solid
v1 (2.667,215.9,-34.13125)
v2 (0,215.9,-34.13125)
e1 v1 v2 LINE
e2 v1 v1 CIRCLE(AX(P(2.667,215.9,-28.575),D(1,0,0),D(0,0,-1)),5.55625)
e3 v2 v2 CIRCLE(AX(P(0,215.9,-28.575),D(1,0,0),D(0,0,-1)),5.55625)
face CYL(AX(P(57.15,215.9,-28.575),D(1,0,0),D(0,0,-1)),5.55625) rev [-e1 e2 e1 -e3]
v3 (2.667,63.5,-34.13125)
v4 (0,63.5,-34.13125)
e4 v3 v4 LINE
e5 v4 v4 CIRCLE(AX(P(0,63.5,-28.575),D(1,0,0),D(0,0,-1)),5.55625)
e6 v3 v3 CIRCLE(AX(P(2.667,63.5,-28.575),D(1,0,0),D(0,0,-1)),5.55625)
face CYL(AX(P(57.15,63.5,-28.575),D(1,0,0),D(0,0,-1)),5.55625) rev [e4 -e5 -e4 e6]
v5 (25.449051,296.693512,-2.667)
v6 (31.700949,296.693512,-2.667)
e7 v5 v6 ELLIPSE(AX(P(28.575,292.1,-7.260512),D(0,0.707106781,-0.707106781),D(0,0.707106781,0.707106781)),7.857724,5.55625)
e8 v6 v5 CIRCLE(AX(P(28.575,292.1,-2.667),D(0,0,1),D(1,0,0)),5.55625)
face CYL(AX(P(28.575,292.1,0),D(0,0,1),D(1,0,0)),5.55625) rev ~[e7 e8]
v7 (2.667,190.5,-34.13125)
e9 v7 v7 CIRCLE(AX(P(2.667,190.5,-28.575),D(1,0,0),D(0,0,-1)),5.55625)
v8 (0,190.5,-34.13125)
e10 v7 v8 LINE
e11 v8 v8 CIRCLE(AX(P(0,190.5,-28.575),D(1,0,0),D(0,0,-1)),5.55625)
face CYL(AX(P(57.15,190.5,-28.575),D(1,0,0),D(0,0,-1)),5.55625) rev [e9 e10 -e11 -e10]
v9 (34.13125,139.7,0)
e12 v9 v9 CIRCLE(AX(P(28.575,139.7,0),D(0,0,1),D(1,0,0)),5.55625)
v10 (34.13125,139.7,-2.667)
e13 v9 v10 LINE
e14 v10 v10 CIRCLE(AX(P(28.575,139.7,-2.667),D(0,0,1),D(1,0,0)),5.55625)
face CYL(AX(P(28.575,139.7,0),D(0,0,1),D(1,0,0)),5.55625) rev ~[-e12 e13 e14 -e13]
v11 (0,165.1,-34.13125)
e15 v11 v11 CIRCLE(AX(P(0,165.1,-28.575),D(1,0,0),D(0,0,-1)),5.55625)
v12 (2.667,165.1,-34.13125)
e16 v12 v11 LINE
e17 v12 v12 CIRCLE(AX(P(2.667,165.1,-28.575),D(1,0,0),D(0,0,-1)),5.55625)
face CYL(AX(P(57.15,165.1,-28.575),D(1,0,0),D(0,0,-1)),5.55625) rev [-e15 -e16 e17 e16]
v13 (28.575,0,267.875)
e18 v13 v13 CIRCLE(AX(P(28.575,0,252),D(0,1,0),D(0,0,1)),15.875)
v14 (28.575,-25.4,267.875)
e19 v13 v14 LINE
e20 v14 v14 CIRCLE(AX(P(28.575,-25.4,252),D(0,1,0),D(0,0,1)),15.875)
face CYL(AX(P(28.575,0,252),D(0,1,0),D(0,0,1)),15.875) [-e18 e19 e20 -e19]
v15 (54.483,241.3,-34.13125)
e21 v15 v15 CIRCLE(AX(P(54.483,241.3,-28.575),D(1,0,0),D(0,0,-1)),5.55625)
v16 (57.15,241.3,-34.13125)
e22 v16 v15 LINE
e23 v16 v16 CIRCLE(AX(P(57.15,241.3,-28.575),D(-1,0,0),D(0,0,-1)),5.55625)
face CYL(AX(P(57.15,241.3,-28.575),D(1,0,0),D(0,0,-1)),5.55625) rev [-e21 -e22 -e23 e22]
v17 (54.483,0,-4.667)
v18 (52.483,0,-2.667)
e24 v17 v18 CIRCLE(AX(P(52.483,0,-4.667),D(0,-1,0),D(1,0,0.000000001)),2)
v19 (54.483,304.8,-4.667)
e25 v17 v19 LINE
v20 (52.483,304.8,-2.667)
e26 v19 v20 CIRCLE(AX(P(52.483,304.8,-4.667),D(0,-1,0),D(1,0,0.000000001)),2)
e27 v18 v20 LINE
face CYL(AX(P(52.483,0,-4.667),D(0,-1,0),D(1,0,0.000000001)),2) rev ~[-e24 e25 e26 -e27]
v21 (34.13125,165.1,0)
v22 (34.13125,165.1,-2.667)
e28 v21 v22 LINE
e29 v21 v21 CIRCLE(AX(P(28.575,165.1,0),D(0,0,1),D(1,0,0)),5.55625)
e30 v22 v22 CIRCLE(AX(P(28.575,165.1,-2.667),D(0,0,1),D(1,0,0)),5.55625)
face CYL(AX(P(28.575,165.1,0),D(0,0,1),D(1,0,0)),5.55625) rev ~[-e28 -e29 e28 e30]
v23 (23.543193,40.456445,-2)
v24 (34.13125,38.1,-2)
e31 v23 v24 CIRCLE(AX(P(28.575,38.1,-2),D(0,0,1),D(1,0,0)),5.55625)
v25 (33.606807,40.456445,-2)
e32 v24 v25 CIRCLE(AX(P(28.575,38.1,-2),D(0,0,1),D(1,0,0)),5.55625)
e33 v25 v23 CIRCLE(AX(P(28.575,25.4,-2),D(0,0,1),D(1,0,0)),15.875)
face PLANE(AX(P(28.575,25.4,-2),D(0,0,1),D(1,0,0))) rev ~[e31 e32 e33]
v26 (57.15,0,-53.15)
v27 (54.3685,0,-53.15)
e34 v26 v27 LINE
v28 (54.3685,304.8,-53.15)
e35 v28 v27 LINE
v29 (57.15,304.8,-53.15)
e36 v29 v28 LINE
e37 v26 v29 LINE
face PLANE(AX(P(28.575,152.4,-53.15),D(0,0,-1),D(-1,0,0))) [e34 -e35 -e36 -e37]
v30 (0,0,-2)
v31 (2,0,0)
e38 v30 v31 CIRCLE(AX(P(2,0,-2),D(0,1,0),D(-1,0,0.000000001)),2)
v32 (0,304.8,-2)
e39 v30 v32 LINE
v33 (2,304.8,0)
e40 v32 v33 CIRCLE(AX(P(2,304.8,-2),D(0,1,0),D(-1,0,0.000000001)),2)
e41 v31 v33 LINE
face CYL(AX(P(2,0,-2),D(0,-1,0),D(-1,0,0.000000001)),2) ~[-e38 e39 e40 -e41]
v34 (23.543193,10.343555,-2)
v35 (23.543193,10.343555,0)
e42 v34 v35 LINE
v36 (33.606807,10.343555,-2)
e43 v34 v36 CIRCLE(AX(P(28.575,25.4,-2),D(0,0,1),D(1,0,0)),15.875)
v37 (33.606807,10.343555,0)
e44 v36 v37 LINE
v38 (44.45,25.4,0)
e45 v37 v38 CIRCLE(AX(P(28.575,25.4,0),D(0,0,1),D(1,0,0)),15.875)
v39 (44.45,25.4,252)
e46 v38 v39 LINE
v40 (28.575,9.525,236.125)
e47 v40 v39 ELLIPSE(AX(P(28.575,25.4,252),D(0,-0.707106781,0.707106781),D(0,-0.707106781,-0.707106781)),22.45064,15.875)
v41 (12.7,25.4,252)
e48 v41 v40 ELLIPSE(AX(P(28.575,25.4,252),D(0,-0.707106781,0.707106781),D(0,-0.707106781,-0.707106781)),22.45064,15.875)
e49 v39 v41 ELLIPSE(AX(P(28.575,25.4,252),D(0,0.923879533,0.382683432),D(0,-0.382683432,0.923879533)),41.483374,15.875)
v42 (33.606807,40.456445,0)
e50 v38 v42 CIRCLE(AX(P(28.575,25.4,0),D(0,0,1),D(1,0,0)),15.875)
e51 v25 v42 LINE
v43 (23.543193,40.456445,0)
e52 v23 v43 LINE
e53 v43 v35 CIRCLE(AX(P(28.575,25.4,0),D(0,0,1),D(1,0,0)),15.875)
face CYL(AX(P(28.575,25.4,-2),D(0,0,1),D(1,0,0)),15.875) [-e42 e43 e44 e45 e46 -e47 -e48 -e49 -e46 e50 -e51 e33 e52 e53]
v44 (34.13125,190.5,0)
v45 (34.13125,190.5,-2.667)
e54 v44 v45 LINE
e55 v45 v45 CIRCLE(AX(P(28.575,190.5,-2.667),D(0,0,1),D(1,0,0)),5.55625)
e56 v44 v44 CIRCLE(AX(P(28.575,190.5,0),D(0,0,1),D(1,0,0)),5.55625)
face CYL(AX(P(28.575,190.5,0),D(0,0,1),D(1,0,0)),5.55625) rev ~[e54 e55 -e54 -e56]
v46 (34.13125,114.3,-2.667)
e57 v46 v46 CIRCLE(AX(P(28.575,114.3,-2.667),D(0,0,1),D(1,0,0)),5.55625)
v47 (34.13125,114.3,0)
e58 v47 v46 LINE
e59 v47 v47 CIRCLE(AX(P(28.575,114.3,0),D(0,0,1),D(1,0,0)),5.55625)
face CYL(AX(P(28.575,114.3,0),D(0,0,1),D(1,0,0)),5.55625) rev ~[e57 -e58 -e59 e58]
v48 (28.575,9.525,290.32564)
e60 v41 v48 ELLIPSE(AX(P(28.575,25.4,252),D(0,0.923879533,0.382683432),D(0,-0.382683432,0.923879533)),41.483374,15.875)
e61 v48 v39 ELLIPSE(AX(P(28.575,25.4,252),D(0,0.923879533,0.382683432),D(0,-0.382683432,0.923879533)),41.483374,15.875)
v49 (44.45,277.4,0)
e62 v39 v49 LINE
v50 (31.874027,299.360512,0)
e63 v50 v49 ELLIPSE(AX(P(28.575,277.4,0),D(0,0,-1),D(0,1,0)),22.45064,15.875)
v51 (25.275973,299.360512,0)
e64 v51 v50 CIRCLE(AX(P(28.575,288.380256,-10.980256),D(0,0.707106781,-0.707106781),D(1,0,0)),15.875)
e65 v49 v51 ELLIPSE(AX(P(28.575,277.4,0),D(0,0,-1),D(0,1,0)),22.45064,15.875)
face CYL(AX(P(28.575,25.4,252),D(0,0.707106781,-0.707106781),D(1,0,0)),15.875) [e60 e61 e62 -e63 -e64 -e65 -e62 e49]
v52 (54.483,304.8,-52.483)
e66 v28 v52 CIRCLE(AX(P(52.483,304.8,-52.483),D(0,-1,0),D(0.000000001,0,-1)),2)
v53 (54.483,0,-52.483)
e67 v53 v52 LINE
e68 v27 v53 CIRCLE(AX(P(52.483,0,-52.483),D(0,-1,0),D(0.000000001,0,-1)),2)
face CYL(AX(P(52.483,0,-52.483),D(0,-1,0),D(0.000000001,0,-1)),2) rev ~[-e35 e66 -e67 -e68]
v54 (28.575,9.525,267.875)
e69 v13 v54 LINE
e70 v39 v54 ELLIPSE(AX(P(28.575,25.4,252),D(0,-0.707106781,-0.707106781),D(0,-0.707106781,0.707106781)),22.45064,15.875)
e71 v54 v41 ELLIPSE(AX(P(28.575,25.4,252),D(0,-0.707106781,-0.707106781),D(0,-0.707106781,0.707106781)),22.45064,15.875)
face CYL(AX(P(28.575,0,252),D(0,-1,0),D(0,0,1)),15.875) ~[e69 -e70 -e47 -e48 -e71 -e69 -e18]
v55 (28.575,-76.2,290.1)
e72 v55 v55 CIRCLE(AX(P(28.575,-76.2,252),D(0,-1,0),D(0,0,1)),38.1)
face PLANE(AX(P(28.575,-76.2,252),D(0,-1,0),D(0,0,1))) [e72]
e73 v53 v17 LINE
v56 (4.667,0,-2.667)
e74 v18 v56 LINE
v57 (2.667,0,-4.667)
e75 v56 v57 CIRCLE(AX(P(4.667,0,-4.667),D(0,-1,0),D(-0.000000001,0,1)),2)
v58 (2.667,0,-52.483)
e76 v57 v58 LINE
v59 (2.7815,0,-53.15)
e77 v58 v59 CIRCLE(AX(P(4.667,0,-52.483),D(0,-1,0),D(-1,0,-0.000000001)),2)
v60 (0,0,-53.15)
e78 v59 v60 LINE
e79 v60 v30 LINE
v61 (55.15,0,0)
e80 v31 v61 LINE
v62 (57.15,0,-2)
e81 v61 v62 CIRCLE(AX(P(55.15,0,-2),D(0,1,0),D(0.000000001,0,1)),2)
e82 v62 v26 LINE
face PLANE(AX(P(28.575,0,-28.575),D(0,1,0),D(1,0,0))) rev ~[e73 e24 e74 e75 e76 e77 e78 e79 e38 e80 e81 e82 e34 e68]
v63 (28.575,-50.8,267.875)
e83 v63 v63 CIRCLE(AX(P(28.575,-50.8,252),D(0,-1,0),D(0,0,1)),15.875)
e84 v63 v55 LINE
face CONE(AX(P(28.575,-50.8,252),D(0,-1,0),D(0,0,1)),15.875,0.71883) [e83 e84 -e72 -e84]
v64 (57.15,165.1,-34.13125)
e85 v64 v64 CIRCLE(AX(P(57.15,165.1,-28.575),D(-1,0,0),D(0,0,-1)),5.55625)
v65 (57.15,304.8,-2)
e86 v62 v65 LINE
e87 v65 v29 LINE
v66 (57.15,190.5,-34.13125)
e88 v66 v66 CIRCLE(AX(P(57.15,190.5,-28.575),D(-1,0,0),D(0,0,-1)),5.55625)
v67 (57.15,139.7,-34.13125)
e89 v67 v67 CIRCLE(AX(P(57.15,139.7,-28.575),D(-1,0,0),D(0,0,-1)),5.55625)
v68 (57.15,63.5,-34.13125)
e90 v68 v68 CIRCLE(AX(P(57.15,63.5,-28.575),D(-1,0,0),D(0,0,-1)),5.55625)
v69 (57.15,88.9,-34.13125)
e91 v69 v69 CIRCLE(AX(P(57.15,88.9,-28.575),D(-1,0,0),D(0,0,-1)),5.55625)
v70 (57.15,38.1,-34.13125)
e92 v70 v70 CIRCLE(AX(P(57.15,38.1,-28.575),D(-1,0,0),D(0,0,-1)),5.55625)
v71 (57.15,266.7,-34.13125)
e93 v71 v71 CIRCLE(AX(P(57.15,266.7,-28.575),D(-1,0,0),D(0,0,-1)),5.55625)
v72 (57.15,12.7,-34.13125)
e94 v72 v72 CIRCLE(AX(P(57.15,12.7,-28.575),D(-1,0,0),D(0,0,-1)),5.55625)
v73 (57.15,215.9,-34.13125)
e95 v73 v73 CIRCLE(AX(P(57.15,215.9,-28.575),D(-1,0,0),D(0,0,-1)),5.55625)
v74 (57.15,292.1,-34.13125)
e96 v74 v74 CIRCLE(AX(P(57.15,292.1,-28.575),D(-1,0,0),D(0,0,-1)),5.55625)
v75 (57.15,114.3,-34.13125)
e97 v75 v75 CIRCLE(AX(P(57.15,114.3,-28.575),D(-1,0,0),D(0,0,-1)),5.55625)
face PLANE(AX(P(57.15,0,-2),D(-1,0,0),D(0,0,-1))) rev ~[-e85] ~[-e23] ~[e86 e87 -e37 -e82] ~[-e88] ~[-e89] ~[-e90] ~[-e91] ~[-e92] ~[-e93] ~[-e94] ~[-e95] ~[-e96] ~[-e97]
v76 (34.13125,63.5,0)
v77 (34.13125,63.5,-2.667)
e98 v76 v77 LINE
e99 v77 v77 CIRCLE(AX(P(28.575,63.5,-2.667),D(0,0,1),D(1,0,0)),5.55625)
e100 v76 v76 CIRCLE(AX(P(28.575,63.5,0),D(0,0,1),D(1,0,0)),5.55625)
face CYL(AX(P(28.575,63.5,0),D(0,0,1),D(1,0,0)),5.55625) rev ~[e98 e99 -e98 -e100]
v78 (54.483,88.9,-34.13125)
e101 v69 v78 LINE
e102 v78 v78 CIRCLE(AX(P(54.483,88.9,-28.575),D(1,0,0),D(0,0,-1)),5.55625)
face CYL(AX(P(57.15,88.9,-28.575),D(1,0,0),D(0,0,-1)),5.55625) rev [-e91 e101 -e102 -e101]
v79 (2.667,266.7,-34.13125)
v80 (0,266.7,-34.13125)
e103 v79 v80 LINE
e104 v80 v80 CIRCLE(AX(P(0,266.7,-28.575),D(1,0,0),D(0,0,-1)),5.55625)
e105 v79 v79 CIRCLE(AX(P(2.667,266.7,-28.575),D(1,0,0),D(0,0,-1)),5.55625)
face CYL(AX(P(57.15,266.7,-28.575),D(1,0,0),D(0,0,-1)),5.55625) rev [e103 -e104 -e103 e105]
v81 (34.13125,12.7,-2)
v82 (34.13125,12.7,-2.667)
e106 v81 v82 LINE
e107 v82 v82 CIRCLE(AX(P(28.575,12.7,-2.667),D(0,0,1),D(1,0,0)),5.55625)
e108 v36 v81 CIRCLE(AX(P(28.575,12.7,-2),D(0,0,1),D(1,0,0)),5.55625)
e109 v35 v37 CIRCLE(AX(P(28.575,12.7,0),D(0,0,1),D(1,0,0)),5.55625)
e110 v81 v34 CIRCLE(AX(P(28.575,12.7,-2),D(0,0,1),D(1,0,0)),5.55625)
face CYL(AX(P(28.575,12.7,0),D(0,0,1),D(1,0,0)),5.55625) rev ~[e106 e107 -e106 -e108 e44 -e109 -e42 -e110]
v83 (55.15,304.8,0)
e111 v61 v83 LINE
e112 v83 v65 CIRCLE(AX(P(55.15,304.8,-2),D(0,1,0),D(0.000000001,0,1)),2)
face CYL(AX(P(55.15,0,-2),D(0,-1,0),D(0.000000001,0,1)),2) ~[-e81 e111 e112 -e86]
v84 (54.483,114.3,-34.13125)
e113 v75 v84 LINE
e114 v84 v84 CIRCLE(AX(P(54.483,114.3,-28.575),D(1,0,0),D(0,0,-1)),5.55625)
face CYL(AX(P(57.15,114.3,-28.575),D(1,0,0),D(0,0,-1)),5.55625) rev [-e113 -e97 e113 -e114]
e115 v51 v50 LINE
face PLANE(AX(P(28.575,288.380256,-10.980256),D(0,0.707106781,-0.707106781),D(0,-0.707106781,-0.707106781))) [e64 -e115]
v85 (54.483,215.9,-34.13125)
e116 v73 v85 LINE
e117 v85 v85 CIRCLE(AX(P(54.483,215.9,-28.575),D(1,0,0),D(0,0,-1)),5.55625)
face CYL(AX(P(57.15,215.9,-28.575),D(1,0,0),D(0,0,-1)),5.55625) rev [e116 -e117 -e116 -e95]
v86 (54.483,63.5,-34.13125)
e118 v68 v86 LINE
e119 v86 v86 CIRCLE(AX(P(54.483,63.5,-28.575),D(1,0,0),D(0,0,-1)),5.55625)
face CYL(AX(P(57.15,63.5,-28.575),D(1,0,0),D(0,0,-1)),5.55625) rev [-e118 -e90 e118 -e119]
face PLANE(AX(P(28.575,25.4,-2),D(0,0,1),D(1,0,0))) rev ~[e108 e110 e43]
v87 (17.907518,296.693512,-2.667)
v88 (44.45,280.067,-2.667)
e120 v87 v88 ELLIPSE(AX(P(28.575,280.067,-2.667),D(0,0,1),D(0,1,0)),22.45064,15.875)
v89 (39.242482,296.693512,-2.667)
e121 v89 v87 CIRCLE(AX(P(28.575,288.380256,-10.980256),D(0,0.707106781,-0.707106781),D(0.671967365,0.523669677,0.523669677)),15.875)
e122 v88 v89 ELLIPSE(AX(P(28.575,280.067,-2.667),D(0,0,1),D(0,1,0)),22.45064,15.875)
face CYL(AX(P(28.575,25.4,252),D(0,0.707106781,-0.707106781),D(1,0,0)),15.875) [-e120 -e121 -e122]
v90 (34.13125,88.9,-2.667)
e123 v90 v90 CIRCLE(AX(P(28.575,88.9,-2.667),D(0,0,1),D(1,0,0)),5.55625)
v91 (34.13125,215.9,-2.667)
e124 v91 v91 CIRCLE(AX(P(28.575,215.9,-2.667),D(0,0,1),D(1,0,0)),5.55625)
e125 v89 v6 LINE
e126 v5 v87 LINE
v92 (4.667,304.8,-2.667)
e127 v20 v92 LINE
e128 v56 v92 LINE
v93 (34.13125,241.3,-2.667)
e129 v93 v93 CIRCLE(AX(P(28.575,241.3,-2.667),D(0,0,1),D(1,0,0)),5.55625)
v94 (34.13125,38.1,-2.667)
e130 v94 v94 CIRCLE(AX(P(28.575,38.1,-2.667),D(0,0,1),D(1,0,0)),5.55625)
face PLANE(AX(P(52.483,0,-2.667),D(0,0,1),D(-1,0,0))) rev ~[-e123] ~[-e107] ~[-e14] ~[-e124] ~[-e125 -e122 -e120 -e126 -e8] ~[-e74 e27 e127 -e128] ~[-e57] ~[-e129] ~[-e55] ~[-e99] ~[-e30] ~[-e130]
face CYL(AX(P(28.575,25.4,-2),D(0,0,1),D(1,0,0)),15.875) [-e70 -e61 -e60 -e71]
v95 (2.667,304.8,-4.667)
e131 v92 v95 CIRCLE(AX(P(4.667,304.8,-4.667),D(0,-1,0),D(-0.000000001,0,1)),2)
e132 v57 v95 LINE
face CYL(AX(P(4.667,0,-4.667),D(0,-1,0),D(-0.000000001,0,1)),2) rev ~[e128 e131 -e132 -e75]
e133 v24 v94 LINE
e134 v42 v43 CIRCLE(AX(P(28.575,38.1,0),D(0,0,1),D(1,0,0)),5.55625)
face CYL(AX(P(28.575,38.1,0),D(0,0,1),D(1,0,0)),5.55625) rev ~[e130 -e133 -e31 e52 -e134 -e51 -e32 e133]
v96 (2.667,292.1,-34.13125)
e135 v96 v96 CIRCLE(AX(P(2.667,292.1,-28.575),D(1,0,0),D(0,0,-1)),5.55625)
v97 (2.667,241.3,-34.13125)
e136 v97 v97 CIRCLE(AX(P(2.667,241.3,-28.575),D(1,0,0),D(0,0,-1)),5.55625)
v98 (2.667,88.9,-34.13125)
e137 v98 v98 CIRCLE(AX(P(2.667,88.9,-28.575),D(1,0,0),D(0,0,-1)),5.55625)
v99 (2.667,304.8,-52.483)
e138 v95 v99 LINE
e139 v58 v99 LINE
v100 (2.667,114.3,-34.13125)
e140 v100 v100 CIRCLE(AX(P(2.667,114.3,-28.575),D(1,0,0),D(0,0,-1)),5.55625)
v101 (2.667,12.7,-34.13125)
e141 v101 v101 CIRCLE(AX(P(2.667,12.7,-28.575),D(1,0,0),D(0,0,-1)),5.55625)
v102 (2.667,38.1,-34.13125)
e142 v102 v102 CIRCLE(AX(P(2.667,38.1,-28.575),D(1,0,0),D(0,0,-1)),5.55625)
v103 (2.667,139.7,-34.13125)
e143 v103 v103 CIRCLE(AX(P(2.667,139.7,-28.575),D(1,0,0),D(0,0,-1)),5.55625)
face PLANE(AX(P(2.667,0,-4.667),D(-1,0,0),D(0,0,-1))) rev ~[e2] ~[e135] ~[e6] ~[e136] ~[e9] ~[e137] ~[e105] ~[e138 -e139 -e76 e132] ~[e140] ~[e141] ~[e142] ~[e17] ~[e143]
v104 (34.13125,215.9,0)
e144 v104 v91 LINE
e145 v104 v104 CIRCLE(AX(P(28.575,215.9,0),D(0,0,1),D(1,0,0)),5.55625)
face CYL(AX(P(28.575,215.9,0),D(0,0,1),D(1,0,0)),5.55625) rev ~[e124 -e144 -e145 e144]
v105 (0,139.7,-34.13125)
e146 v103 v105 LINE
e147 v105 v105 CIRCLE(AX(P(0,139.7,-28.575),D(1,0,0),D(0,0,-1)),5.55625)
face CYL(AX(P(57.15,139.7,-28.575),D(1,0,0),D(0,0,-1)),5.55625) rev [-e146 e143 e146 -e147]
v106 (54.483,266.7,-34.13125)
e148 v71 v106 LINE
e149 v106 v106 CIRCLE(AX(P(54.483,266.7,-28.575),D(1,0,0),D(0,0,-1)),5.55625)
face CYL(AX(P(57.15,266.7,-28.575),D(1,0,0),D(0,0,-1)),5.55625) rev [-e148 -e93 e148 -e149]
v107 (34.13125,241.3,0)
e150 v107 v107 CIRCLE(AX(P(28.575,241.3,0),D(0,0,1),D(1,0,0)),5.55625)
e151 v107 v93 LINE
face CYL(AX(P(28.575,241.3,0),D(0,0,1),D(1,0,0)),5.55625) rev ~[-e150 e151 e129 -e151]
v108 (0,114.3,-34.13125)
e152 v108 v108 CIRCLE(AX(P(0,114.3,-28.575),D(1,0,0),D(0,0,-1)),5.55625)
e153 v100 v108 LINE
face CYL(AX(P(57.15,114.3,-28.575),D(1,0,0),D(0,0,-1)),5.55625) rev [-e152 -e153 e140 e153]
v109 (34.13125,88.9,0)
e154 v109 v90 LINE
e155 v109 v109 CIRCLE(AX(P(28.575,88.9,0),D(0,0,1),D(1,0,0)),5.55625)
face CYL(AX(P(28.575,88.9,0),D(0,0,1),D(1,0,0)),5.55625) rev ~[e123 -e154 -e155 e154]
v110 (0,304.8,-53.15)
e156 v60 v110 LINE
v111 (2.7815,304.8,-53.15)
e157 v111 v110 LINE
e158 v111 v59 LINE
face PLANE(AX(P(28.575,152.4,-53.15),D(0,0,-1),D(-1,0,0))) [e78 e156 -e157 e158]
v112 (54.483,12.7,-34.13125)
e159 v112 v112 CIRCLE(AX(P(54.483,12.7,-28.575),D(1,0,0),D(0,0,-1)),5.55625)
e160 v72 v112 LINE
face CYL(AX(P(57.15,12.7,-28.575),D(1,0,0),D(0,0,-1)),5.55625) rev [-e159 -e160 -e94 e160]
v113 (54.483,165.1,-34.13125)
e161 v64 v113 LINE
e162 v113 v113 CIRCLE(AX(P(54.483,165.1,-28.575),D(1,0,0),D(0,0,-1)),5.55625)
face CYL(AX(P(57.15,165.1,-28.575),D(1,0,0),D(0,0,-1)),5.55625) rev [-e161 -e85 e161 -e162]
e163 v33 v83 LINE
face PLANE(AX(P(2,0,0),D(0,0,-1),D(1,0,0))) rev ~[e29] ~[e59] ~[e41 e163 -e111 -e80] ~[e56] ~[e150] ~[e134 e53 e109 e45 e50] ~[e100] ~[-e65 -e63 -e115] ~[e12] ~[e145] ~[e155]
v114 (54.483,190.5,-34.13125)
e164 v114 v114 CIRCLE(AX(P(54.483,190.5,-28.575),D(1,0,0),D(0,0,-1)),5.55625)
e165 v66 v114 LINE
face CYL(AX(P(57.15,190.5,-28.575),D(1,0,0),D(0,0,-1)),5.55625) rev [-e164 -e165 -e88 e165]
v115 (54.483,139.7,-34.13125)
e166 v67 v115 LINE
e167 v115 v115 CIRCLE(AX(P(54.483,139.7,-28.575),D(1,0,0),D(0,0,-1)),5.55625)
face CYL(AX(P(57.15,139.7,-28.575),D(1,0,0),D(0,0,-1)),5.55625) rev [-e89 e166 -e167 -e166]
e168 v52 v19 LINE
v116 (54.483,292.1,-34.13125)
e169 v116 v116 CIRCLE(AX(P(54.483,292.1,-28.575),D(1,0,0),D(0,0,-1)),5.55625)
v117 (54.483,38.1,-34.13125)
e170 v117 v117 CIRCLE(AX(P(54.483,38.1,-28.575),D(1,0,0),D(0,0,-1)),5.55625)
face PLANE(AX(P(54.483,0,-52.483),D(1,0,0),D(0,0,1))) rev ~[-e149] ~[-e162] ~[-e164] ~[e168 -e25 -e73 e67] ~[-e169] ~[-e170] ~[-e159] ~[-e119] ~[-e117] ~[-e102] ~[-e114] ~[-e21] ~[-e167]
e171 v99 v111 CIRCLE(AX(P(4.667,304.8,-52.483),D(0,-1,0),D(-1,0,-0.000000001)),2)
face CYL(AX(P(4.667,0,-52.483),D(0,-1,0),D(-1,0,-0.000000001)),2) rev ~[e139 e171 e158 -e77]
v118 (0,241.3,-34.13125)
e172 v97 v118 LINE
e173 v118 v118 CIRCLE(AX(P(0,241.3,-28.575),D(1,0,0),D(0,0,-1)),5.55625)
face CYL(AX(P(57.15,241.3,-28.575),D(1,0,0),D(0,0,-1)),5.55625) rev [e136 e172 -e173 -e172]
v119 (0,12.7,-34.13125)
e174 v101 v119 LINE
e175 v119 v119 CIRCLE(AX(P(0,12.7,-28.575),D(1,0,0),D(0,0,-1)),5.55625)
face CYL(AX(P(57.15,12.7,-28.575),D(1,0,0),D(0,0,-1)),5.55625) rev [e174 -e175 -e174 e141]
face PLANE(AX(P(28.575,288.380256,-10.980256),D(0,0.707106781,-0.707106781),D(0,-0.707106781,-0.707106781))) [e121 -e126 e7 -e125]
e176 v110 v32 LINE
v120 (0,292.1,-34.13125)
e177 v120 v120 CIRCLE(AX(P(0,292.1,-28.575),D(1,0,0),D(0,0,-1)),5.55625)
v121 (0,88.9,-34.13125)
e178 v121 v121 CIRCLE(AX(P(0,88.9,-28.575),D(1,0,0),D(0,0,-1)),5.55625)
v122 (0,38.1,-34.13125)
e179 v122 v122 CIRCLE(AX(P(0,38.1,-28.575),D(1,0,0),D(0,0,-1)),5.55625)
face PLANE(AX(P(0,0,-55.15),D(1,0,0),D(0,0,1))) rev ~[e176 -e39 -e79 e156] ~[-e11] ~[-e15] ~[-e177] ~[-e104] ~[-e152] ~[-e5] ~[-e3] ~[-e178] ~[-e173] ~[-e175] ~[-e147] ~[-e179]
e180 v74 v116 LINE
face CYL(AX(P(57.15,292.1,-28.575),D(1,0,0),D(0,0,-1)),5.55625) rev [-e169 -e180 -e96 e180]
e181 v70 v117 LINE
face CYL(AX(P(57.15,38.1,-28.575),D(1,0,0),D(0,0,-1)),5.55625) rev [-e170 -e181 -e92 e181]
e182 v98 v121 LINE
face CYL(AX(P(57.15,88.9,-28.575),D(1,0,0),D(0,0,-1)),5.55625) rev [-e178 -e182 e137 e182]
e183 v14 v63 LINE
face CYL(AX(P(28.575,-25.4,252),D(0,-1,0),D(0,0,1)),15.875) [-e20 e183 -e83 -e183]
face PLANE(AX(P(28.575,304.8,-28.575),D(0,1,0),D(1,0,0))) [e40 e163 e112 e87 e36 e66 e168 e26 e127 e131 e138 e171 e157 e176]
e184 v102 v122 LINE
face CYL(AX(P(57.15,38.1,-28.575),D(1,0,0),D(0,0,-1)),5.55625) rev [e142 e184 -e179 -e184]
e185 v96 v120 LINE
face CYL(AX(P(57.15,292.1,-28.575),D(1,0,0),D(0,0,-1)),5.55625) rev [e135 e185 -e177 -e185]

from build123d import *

# Parameters (mm, degrees)
BOSS_EXTRUDE1_DEPTH             = 304.8
SKETCH2_R                       = 5.55625
CUT_EXTRUDE1_DEPTH              = 304.8
SKETCH3_R                       = 5.55625
CUT_EXTRUDE2_DEPTH              = 304.8
SKETCH4_W                       = 57.15
SKETCH4_H                       = 304.8
CUT_EXTRUDE3_DEPTH              = 4
SWEEP1_PROFILE_R                = 15.875
BOSS_EXTRUDE2_REACH             = 426.804
BOSS_EXTRUDE2_END_RADIUS        = 15.875
SKETCH18_R                      = 15.875
BOSS_EXTRUDE2_DIRECTION_2_DEPTH = 25.4


with BuildPart() as part:
    # Sketch1 → Boss-Extrude1 (new body)
    with BuildSketch(Plane(origin=(0, 0, 0), x_dir=(1, 0, 0), z_dir=(0, 1, 0))):
        with BuildLine():
            Line((2, 0), (55.15, 0))
            ThreePointArc((55.15, 0), (56.564213562, 0.585786438), (57.15, 2))
            Line((57.15, 2), (57.15, 55.15))
            ThreePointArc((57.15, 55.15), (56.564213562, 56.564213562), (55.15, 57.15))
            Line((55.15, 57.15), (2, 57.15))
            ThreePointArc((2, 57.15), (0.585786438, 56.564213562), (0, 55.15))
            Line((0, 55.15), (0, 2))
            ThreePointArc((0, 2), (0.585786438, 0.585786438), (2, 0))
        make_face()
        with BuildLine():
            Line((4.667, 54.483), (52.483, 54.483))
            ThreePointArc((52.483, 54.483), (53.897213562, 53.897213562), (54.483, 52.483))
            Line((54.483, 52.483), (54.483, 4.667))
            ThreePointArc((54.483, 4.667), (53.897213562, 3.252786438), (52.483, 2.667))
            Line((52.483, 2.667), (4.667, 2.667))
            ThreePointArc((4.667, 2.667), (3.252786438, 3.252786438), (2.667, 4.667))
            Line((2.667, 4.667), (2.667, 52.483))
            ThreePointArc((2.667, 52.483), (3.252786438, 53.897213562), (4.667, 54.483))
        make_face(mode=Mode.SUBTRACT)
    extrude(amount=BOSS_EXTRUDE1_DEPTH)

    # Sketch2 → Cut-Extrude1 (cut)
    with BuildSketch(Plane.XY):
        with Locations((28.575, 292.1)):
            Circle(SKETCH2_R)
        with Locations((28.575, 266.7)):
            Circle(SKETCH2_R)
        with Locations((28.575, 241.3)):
            Circle(SKETCH2_R)
        with Locations((28.575, 215.9)):
            Circle(SKETCH2_R)
        with Locations((28.575, 190.5)):
            Circle(SKETCH2_R)
        with Locations((28.575, 165.1)):
            Circle(SKETCH2_R)
        with Locations((28.575, 139.7)):
            Circle(SKETCH2_R)
        with Locations((28.575, 114.3)):
            Circle(SKETCH2_R)
        with Locations((28.575, 88.9)):
            Circle(SKETCH2_R)
        with Locations((28.575, 63.5)):
            Circle(SKETCH2_R)
        with Locations((28.575, 38.1)):
            Circle(SKETCH2_R)
        with Locations((28.575, 12.7)):
            Circle(SKETCH2_R)
    extrude(amount=-CUT_EXTRUDE1_DEPTH, mode=Mode.SUBTRACT)

    # Sketch3 → Cut-Extrude2 (cut)
    with BuildSketch(Plane(origin=(57.15, 0, -57.15), x_dir=(0, 0, 1), z_dir=(-1, 0, 0))):
        with Locations((28.575, 292.1)):
            Circle(SKETCH3_R)
        with Locations((28.575, 266.7)):
            Circle(SKETCH3_R)
        with Locations((28.575, 241.3)):
            Circle(SKETCH3_R)
        with Locations((28.575, 215.9)):
            Circle(SKETCH3_R)
        with Locations((28.575, 190.5)):
            Circle(SKETCH3_R)
        with Locations((28.575, 165.1)):
            Circle(SKETCH3_R)
        with Locations((28.575, 139.7)):
            Circle(SKETCH3_R)
        with Locations((28.575, 114.3)):
            Circle(SKETCH3_R)
        with Locations((28.575, 88.9)):
            Circle(SKETCH3_R)
        with Locations((28.575, 63.5)):
            Circle(SKETCH3_R)
        with Locations((28.575, 38.1)):
            Circle(SKETCH3_R)
        with Locations((28.575, 12.7)):
            Circle(SKETCH3_R)
    extrude(amount=CUT_EXTRUDE2_DEPTH, mode=Mode.SUBTRACT)

    # Sketch4 → Cut-Extrude3 (cut)
    with BuildSketch(Plane(origin=(0, 0, -57.15), x_dir=(-1, 0, 0), z_dir=(0, 0, -1))):
        with Locations((-28.575, 152.4)):
            Rectangle(SKETCH4_W, SKETCH4_H)
    extrude(amount=-CUT_EXTRUDE3_DEPTH, mode=Mode.SUBTRACT)

    # Sweep1: sweep along a path in Sketch5
    with BuildLine(Plane(origin=(28.575, 0, 0), x_dir=(0, 0, -1), z_dir=(1, 0, 0))) as sweep1_path:
        Line((2, 25.4), (-252, 25.4))
        Line((-252, 25.4), (2, 279.4))
        Line((2, 279.4), (10.980256121, 288.380256121))
    # Sweep1 profile (on start of the path) → Sweep1 (sweep)
    with BuildSketch(Plane(origin=(28.575, 25.4, -2), x_dir=(1, 0, 0), z_dir=(0, 0, 1))):
        Circle(SWEEP1_PROFILE_R)
    sweep(path=sweep1_path.line, transition=Transition.RIGHT)

    # Boss-Extrude2: up to this cylinder (the profile starts outside it)
    boss_extrude2_end = Plane(origin=(28.575, 25.4, 252), z_dir=(0, 0, -1)) * Cylinder(BOSS_EXTRUDE2_END_RADIUS, 886.358, mode=Mode.PRIVATE)
    # Sketch18 → Boss-Extrude2 (add, up to the surface)
    with BuildSketch(Plane(origin=(0, 0, 0), x_dir=(1, 0, 0), z_dir=(0, 1, 0)), mode=Mode.PRIVATE) as boss_extrude2_sk1:
        with Locations((28.575, -252)):
            Circle(SKETCH18_R)
    boss_extrude2_tool1 = extrude(boss_extrude2_sk1.sketch, amount=BOSS_EXTRUDE2_REACH, mode=Mode.PRIVATE) - boss_extrude2_end
    add(boss_extrude2_tool1.solids().sort_by_distance((28.575, 0, 252))[0])

    # Sketch18 → Boss-Extrude2 direction 2 (add)
    with BuildSketch(Plane(origin=(0, 0, 0), x_dir=(1, 0, 0), z_dir=(0, 1, 0))):
        with Locations((28.575, -252)):
            Circle(SKETCH18_R)
    extrude(amount=-BOSS_EXTRUDE2_DIRECTION_2_DEPTH)

    # Sketch19 → Revolve1 (revolve)
    with BuildSketch(Plane(origin=(28.575, 0, 0), x_dir=(0, 0, -1), z_dir=(1, 0, 0))):
        Polygon((-236.125, -25.4), (-236.125, -50.8), (-213.9, -76.2), (-252, -76.2), (-252, -25.4), align=None)
    revolve(axis=Axis((28.575, -25.4, 252), (0, -1, 0)))


solid = part.part
